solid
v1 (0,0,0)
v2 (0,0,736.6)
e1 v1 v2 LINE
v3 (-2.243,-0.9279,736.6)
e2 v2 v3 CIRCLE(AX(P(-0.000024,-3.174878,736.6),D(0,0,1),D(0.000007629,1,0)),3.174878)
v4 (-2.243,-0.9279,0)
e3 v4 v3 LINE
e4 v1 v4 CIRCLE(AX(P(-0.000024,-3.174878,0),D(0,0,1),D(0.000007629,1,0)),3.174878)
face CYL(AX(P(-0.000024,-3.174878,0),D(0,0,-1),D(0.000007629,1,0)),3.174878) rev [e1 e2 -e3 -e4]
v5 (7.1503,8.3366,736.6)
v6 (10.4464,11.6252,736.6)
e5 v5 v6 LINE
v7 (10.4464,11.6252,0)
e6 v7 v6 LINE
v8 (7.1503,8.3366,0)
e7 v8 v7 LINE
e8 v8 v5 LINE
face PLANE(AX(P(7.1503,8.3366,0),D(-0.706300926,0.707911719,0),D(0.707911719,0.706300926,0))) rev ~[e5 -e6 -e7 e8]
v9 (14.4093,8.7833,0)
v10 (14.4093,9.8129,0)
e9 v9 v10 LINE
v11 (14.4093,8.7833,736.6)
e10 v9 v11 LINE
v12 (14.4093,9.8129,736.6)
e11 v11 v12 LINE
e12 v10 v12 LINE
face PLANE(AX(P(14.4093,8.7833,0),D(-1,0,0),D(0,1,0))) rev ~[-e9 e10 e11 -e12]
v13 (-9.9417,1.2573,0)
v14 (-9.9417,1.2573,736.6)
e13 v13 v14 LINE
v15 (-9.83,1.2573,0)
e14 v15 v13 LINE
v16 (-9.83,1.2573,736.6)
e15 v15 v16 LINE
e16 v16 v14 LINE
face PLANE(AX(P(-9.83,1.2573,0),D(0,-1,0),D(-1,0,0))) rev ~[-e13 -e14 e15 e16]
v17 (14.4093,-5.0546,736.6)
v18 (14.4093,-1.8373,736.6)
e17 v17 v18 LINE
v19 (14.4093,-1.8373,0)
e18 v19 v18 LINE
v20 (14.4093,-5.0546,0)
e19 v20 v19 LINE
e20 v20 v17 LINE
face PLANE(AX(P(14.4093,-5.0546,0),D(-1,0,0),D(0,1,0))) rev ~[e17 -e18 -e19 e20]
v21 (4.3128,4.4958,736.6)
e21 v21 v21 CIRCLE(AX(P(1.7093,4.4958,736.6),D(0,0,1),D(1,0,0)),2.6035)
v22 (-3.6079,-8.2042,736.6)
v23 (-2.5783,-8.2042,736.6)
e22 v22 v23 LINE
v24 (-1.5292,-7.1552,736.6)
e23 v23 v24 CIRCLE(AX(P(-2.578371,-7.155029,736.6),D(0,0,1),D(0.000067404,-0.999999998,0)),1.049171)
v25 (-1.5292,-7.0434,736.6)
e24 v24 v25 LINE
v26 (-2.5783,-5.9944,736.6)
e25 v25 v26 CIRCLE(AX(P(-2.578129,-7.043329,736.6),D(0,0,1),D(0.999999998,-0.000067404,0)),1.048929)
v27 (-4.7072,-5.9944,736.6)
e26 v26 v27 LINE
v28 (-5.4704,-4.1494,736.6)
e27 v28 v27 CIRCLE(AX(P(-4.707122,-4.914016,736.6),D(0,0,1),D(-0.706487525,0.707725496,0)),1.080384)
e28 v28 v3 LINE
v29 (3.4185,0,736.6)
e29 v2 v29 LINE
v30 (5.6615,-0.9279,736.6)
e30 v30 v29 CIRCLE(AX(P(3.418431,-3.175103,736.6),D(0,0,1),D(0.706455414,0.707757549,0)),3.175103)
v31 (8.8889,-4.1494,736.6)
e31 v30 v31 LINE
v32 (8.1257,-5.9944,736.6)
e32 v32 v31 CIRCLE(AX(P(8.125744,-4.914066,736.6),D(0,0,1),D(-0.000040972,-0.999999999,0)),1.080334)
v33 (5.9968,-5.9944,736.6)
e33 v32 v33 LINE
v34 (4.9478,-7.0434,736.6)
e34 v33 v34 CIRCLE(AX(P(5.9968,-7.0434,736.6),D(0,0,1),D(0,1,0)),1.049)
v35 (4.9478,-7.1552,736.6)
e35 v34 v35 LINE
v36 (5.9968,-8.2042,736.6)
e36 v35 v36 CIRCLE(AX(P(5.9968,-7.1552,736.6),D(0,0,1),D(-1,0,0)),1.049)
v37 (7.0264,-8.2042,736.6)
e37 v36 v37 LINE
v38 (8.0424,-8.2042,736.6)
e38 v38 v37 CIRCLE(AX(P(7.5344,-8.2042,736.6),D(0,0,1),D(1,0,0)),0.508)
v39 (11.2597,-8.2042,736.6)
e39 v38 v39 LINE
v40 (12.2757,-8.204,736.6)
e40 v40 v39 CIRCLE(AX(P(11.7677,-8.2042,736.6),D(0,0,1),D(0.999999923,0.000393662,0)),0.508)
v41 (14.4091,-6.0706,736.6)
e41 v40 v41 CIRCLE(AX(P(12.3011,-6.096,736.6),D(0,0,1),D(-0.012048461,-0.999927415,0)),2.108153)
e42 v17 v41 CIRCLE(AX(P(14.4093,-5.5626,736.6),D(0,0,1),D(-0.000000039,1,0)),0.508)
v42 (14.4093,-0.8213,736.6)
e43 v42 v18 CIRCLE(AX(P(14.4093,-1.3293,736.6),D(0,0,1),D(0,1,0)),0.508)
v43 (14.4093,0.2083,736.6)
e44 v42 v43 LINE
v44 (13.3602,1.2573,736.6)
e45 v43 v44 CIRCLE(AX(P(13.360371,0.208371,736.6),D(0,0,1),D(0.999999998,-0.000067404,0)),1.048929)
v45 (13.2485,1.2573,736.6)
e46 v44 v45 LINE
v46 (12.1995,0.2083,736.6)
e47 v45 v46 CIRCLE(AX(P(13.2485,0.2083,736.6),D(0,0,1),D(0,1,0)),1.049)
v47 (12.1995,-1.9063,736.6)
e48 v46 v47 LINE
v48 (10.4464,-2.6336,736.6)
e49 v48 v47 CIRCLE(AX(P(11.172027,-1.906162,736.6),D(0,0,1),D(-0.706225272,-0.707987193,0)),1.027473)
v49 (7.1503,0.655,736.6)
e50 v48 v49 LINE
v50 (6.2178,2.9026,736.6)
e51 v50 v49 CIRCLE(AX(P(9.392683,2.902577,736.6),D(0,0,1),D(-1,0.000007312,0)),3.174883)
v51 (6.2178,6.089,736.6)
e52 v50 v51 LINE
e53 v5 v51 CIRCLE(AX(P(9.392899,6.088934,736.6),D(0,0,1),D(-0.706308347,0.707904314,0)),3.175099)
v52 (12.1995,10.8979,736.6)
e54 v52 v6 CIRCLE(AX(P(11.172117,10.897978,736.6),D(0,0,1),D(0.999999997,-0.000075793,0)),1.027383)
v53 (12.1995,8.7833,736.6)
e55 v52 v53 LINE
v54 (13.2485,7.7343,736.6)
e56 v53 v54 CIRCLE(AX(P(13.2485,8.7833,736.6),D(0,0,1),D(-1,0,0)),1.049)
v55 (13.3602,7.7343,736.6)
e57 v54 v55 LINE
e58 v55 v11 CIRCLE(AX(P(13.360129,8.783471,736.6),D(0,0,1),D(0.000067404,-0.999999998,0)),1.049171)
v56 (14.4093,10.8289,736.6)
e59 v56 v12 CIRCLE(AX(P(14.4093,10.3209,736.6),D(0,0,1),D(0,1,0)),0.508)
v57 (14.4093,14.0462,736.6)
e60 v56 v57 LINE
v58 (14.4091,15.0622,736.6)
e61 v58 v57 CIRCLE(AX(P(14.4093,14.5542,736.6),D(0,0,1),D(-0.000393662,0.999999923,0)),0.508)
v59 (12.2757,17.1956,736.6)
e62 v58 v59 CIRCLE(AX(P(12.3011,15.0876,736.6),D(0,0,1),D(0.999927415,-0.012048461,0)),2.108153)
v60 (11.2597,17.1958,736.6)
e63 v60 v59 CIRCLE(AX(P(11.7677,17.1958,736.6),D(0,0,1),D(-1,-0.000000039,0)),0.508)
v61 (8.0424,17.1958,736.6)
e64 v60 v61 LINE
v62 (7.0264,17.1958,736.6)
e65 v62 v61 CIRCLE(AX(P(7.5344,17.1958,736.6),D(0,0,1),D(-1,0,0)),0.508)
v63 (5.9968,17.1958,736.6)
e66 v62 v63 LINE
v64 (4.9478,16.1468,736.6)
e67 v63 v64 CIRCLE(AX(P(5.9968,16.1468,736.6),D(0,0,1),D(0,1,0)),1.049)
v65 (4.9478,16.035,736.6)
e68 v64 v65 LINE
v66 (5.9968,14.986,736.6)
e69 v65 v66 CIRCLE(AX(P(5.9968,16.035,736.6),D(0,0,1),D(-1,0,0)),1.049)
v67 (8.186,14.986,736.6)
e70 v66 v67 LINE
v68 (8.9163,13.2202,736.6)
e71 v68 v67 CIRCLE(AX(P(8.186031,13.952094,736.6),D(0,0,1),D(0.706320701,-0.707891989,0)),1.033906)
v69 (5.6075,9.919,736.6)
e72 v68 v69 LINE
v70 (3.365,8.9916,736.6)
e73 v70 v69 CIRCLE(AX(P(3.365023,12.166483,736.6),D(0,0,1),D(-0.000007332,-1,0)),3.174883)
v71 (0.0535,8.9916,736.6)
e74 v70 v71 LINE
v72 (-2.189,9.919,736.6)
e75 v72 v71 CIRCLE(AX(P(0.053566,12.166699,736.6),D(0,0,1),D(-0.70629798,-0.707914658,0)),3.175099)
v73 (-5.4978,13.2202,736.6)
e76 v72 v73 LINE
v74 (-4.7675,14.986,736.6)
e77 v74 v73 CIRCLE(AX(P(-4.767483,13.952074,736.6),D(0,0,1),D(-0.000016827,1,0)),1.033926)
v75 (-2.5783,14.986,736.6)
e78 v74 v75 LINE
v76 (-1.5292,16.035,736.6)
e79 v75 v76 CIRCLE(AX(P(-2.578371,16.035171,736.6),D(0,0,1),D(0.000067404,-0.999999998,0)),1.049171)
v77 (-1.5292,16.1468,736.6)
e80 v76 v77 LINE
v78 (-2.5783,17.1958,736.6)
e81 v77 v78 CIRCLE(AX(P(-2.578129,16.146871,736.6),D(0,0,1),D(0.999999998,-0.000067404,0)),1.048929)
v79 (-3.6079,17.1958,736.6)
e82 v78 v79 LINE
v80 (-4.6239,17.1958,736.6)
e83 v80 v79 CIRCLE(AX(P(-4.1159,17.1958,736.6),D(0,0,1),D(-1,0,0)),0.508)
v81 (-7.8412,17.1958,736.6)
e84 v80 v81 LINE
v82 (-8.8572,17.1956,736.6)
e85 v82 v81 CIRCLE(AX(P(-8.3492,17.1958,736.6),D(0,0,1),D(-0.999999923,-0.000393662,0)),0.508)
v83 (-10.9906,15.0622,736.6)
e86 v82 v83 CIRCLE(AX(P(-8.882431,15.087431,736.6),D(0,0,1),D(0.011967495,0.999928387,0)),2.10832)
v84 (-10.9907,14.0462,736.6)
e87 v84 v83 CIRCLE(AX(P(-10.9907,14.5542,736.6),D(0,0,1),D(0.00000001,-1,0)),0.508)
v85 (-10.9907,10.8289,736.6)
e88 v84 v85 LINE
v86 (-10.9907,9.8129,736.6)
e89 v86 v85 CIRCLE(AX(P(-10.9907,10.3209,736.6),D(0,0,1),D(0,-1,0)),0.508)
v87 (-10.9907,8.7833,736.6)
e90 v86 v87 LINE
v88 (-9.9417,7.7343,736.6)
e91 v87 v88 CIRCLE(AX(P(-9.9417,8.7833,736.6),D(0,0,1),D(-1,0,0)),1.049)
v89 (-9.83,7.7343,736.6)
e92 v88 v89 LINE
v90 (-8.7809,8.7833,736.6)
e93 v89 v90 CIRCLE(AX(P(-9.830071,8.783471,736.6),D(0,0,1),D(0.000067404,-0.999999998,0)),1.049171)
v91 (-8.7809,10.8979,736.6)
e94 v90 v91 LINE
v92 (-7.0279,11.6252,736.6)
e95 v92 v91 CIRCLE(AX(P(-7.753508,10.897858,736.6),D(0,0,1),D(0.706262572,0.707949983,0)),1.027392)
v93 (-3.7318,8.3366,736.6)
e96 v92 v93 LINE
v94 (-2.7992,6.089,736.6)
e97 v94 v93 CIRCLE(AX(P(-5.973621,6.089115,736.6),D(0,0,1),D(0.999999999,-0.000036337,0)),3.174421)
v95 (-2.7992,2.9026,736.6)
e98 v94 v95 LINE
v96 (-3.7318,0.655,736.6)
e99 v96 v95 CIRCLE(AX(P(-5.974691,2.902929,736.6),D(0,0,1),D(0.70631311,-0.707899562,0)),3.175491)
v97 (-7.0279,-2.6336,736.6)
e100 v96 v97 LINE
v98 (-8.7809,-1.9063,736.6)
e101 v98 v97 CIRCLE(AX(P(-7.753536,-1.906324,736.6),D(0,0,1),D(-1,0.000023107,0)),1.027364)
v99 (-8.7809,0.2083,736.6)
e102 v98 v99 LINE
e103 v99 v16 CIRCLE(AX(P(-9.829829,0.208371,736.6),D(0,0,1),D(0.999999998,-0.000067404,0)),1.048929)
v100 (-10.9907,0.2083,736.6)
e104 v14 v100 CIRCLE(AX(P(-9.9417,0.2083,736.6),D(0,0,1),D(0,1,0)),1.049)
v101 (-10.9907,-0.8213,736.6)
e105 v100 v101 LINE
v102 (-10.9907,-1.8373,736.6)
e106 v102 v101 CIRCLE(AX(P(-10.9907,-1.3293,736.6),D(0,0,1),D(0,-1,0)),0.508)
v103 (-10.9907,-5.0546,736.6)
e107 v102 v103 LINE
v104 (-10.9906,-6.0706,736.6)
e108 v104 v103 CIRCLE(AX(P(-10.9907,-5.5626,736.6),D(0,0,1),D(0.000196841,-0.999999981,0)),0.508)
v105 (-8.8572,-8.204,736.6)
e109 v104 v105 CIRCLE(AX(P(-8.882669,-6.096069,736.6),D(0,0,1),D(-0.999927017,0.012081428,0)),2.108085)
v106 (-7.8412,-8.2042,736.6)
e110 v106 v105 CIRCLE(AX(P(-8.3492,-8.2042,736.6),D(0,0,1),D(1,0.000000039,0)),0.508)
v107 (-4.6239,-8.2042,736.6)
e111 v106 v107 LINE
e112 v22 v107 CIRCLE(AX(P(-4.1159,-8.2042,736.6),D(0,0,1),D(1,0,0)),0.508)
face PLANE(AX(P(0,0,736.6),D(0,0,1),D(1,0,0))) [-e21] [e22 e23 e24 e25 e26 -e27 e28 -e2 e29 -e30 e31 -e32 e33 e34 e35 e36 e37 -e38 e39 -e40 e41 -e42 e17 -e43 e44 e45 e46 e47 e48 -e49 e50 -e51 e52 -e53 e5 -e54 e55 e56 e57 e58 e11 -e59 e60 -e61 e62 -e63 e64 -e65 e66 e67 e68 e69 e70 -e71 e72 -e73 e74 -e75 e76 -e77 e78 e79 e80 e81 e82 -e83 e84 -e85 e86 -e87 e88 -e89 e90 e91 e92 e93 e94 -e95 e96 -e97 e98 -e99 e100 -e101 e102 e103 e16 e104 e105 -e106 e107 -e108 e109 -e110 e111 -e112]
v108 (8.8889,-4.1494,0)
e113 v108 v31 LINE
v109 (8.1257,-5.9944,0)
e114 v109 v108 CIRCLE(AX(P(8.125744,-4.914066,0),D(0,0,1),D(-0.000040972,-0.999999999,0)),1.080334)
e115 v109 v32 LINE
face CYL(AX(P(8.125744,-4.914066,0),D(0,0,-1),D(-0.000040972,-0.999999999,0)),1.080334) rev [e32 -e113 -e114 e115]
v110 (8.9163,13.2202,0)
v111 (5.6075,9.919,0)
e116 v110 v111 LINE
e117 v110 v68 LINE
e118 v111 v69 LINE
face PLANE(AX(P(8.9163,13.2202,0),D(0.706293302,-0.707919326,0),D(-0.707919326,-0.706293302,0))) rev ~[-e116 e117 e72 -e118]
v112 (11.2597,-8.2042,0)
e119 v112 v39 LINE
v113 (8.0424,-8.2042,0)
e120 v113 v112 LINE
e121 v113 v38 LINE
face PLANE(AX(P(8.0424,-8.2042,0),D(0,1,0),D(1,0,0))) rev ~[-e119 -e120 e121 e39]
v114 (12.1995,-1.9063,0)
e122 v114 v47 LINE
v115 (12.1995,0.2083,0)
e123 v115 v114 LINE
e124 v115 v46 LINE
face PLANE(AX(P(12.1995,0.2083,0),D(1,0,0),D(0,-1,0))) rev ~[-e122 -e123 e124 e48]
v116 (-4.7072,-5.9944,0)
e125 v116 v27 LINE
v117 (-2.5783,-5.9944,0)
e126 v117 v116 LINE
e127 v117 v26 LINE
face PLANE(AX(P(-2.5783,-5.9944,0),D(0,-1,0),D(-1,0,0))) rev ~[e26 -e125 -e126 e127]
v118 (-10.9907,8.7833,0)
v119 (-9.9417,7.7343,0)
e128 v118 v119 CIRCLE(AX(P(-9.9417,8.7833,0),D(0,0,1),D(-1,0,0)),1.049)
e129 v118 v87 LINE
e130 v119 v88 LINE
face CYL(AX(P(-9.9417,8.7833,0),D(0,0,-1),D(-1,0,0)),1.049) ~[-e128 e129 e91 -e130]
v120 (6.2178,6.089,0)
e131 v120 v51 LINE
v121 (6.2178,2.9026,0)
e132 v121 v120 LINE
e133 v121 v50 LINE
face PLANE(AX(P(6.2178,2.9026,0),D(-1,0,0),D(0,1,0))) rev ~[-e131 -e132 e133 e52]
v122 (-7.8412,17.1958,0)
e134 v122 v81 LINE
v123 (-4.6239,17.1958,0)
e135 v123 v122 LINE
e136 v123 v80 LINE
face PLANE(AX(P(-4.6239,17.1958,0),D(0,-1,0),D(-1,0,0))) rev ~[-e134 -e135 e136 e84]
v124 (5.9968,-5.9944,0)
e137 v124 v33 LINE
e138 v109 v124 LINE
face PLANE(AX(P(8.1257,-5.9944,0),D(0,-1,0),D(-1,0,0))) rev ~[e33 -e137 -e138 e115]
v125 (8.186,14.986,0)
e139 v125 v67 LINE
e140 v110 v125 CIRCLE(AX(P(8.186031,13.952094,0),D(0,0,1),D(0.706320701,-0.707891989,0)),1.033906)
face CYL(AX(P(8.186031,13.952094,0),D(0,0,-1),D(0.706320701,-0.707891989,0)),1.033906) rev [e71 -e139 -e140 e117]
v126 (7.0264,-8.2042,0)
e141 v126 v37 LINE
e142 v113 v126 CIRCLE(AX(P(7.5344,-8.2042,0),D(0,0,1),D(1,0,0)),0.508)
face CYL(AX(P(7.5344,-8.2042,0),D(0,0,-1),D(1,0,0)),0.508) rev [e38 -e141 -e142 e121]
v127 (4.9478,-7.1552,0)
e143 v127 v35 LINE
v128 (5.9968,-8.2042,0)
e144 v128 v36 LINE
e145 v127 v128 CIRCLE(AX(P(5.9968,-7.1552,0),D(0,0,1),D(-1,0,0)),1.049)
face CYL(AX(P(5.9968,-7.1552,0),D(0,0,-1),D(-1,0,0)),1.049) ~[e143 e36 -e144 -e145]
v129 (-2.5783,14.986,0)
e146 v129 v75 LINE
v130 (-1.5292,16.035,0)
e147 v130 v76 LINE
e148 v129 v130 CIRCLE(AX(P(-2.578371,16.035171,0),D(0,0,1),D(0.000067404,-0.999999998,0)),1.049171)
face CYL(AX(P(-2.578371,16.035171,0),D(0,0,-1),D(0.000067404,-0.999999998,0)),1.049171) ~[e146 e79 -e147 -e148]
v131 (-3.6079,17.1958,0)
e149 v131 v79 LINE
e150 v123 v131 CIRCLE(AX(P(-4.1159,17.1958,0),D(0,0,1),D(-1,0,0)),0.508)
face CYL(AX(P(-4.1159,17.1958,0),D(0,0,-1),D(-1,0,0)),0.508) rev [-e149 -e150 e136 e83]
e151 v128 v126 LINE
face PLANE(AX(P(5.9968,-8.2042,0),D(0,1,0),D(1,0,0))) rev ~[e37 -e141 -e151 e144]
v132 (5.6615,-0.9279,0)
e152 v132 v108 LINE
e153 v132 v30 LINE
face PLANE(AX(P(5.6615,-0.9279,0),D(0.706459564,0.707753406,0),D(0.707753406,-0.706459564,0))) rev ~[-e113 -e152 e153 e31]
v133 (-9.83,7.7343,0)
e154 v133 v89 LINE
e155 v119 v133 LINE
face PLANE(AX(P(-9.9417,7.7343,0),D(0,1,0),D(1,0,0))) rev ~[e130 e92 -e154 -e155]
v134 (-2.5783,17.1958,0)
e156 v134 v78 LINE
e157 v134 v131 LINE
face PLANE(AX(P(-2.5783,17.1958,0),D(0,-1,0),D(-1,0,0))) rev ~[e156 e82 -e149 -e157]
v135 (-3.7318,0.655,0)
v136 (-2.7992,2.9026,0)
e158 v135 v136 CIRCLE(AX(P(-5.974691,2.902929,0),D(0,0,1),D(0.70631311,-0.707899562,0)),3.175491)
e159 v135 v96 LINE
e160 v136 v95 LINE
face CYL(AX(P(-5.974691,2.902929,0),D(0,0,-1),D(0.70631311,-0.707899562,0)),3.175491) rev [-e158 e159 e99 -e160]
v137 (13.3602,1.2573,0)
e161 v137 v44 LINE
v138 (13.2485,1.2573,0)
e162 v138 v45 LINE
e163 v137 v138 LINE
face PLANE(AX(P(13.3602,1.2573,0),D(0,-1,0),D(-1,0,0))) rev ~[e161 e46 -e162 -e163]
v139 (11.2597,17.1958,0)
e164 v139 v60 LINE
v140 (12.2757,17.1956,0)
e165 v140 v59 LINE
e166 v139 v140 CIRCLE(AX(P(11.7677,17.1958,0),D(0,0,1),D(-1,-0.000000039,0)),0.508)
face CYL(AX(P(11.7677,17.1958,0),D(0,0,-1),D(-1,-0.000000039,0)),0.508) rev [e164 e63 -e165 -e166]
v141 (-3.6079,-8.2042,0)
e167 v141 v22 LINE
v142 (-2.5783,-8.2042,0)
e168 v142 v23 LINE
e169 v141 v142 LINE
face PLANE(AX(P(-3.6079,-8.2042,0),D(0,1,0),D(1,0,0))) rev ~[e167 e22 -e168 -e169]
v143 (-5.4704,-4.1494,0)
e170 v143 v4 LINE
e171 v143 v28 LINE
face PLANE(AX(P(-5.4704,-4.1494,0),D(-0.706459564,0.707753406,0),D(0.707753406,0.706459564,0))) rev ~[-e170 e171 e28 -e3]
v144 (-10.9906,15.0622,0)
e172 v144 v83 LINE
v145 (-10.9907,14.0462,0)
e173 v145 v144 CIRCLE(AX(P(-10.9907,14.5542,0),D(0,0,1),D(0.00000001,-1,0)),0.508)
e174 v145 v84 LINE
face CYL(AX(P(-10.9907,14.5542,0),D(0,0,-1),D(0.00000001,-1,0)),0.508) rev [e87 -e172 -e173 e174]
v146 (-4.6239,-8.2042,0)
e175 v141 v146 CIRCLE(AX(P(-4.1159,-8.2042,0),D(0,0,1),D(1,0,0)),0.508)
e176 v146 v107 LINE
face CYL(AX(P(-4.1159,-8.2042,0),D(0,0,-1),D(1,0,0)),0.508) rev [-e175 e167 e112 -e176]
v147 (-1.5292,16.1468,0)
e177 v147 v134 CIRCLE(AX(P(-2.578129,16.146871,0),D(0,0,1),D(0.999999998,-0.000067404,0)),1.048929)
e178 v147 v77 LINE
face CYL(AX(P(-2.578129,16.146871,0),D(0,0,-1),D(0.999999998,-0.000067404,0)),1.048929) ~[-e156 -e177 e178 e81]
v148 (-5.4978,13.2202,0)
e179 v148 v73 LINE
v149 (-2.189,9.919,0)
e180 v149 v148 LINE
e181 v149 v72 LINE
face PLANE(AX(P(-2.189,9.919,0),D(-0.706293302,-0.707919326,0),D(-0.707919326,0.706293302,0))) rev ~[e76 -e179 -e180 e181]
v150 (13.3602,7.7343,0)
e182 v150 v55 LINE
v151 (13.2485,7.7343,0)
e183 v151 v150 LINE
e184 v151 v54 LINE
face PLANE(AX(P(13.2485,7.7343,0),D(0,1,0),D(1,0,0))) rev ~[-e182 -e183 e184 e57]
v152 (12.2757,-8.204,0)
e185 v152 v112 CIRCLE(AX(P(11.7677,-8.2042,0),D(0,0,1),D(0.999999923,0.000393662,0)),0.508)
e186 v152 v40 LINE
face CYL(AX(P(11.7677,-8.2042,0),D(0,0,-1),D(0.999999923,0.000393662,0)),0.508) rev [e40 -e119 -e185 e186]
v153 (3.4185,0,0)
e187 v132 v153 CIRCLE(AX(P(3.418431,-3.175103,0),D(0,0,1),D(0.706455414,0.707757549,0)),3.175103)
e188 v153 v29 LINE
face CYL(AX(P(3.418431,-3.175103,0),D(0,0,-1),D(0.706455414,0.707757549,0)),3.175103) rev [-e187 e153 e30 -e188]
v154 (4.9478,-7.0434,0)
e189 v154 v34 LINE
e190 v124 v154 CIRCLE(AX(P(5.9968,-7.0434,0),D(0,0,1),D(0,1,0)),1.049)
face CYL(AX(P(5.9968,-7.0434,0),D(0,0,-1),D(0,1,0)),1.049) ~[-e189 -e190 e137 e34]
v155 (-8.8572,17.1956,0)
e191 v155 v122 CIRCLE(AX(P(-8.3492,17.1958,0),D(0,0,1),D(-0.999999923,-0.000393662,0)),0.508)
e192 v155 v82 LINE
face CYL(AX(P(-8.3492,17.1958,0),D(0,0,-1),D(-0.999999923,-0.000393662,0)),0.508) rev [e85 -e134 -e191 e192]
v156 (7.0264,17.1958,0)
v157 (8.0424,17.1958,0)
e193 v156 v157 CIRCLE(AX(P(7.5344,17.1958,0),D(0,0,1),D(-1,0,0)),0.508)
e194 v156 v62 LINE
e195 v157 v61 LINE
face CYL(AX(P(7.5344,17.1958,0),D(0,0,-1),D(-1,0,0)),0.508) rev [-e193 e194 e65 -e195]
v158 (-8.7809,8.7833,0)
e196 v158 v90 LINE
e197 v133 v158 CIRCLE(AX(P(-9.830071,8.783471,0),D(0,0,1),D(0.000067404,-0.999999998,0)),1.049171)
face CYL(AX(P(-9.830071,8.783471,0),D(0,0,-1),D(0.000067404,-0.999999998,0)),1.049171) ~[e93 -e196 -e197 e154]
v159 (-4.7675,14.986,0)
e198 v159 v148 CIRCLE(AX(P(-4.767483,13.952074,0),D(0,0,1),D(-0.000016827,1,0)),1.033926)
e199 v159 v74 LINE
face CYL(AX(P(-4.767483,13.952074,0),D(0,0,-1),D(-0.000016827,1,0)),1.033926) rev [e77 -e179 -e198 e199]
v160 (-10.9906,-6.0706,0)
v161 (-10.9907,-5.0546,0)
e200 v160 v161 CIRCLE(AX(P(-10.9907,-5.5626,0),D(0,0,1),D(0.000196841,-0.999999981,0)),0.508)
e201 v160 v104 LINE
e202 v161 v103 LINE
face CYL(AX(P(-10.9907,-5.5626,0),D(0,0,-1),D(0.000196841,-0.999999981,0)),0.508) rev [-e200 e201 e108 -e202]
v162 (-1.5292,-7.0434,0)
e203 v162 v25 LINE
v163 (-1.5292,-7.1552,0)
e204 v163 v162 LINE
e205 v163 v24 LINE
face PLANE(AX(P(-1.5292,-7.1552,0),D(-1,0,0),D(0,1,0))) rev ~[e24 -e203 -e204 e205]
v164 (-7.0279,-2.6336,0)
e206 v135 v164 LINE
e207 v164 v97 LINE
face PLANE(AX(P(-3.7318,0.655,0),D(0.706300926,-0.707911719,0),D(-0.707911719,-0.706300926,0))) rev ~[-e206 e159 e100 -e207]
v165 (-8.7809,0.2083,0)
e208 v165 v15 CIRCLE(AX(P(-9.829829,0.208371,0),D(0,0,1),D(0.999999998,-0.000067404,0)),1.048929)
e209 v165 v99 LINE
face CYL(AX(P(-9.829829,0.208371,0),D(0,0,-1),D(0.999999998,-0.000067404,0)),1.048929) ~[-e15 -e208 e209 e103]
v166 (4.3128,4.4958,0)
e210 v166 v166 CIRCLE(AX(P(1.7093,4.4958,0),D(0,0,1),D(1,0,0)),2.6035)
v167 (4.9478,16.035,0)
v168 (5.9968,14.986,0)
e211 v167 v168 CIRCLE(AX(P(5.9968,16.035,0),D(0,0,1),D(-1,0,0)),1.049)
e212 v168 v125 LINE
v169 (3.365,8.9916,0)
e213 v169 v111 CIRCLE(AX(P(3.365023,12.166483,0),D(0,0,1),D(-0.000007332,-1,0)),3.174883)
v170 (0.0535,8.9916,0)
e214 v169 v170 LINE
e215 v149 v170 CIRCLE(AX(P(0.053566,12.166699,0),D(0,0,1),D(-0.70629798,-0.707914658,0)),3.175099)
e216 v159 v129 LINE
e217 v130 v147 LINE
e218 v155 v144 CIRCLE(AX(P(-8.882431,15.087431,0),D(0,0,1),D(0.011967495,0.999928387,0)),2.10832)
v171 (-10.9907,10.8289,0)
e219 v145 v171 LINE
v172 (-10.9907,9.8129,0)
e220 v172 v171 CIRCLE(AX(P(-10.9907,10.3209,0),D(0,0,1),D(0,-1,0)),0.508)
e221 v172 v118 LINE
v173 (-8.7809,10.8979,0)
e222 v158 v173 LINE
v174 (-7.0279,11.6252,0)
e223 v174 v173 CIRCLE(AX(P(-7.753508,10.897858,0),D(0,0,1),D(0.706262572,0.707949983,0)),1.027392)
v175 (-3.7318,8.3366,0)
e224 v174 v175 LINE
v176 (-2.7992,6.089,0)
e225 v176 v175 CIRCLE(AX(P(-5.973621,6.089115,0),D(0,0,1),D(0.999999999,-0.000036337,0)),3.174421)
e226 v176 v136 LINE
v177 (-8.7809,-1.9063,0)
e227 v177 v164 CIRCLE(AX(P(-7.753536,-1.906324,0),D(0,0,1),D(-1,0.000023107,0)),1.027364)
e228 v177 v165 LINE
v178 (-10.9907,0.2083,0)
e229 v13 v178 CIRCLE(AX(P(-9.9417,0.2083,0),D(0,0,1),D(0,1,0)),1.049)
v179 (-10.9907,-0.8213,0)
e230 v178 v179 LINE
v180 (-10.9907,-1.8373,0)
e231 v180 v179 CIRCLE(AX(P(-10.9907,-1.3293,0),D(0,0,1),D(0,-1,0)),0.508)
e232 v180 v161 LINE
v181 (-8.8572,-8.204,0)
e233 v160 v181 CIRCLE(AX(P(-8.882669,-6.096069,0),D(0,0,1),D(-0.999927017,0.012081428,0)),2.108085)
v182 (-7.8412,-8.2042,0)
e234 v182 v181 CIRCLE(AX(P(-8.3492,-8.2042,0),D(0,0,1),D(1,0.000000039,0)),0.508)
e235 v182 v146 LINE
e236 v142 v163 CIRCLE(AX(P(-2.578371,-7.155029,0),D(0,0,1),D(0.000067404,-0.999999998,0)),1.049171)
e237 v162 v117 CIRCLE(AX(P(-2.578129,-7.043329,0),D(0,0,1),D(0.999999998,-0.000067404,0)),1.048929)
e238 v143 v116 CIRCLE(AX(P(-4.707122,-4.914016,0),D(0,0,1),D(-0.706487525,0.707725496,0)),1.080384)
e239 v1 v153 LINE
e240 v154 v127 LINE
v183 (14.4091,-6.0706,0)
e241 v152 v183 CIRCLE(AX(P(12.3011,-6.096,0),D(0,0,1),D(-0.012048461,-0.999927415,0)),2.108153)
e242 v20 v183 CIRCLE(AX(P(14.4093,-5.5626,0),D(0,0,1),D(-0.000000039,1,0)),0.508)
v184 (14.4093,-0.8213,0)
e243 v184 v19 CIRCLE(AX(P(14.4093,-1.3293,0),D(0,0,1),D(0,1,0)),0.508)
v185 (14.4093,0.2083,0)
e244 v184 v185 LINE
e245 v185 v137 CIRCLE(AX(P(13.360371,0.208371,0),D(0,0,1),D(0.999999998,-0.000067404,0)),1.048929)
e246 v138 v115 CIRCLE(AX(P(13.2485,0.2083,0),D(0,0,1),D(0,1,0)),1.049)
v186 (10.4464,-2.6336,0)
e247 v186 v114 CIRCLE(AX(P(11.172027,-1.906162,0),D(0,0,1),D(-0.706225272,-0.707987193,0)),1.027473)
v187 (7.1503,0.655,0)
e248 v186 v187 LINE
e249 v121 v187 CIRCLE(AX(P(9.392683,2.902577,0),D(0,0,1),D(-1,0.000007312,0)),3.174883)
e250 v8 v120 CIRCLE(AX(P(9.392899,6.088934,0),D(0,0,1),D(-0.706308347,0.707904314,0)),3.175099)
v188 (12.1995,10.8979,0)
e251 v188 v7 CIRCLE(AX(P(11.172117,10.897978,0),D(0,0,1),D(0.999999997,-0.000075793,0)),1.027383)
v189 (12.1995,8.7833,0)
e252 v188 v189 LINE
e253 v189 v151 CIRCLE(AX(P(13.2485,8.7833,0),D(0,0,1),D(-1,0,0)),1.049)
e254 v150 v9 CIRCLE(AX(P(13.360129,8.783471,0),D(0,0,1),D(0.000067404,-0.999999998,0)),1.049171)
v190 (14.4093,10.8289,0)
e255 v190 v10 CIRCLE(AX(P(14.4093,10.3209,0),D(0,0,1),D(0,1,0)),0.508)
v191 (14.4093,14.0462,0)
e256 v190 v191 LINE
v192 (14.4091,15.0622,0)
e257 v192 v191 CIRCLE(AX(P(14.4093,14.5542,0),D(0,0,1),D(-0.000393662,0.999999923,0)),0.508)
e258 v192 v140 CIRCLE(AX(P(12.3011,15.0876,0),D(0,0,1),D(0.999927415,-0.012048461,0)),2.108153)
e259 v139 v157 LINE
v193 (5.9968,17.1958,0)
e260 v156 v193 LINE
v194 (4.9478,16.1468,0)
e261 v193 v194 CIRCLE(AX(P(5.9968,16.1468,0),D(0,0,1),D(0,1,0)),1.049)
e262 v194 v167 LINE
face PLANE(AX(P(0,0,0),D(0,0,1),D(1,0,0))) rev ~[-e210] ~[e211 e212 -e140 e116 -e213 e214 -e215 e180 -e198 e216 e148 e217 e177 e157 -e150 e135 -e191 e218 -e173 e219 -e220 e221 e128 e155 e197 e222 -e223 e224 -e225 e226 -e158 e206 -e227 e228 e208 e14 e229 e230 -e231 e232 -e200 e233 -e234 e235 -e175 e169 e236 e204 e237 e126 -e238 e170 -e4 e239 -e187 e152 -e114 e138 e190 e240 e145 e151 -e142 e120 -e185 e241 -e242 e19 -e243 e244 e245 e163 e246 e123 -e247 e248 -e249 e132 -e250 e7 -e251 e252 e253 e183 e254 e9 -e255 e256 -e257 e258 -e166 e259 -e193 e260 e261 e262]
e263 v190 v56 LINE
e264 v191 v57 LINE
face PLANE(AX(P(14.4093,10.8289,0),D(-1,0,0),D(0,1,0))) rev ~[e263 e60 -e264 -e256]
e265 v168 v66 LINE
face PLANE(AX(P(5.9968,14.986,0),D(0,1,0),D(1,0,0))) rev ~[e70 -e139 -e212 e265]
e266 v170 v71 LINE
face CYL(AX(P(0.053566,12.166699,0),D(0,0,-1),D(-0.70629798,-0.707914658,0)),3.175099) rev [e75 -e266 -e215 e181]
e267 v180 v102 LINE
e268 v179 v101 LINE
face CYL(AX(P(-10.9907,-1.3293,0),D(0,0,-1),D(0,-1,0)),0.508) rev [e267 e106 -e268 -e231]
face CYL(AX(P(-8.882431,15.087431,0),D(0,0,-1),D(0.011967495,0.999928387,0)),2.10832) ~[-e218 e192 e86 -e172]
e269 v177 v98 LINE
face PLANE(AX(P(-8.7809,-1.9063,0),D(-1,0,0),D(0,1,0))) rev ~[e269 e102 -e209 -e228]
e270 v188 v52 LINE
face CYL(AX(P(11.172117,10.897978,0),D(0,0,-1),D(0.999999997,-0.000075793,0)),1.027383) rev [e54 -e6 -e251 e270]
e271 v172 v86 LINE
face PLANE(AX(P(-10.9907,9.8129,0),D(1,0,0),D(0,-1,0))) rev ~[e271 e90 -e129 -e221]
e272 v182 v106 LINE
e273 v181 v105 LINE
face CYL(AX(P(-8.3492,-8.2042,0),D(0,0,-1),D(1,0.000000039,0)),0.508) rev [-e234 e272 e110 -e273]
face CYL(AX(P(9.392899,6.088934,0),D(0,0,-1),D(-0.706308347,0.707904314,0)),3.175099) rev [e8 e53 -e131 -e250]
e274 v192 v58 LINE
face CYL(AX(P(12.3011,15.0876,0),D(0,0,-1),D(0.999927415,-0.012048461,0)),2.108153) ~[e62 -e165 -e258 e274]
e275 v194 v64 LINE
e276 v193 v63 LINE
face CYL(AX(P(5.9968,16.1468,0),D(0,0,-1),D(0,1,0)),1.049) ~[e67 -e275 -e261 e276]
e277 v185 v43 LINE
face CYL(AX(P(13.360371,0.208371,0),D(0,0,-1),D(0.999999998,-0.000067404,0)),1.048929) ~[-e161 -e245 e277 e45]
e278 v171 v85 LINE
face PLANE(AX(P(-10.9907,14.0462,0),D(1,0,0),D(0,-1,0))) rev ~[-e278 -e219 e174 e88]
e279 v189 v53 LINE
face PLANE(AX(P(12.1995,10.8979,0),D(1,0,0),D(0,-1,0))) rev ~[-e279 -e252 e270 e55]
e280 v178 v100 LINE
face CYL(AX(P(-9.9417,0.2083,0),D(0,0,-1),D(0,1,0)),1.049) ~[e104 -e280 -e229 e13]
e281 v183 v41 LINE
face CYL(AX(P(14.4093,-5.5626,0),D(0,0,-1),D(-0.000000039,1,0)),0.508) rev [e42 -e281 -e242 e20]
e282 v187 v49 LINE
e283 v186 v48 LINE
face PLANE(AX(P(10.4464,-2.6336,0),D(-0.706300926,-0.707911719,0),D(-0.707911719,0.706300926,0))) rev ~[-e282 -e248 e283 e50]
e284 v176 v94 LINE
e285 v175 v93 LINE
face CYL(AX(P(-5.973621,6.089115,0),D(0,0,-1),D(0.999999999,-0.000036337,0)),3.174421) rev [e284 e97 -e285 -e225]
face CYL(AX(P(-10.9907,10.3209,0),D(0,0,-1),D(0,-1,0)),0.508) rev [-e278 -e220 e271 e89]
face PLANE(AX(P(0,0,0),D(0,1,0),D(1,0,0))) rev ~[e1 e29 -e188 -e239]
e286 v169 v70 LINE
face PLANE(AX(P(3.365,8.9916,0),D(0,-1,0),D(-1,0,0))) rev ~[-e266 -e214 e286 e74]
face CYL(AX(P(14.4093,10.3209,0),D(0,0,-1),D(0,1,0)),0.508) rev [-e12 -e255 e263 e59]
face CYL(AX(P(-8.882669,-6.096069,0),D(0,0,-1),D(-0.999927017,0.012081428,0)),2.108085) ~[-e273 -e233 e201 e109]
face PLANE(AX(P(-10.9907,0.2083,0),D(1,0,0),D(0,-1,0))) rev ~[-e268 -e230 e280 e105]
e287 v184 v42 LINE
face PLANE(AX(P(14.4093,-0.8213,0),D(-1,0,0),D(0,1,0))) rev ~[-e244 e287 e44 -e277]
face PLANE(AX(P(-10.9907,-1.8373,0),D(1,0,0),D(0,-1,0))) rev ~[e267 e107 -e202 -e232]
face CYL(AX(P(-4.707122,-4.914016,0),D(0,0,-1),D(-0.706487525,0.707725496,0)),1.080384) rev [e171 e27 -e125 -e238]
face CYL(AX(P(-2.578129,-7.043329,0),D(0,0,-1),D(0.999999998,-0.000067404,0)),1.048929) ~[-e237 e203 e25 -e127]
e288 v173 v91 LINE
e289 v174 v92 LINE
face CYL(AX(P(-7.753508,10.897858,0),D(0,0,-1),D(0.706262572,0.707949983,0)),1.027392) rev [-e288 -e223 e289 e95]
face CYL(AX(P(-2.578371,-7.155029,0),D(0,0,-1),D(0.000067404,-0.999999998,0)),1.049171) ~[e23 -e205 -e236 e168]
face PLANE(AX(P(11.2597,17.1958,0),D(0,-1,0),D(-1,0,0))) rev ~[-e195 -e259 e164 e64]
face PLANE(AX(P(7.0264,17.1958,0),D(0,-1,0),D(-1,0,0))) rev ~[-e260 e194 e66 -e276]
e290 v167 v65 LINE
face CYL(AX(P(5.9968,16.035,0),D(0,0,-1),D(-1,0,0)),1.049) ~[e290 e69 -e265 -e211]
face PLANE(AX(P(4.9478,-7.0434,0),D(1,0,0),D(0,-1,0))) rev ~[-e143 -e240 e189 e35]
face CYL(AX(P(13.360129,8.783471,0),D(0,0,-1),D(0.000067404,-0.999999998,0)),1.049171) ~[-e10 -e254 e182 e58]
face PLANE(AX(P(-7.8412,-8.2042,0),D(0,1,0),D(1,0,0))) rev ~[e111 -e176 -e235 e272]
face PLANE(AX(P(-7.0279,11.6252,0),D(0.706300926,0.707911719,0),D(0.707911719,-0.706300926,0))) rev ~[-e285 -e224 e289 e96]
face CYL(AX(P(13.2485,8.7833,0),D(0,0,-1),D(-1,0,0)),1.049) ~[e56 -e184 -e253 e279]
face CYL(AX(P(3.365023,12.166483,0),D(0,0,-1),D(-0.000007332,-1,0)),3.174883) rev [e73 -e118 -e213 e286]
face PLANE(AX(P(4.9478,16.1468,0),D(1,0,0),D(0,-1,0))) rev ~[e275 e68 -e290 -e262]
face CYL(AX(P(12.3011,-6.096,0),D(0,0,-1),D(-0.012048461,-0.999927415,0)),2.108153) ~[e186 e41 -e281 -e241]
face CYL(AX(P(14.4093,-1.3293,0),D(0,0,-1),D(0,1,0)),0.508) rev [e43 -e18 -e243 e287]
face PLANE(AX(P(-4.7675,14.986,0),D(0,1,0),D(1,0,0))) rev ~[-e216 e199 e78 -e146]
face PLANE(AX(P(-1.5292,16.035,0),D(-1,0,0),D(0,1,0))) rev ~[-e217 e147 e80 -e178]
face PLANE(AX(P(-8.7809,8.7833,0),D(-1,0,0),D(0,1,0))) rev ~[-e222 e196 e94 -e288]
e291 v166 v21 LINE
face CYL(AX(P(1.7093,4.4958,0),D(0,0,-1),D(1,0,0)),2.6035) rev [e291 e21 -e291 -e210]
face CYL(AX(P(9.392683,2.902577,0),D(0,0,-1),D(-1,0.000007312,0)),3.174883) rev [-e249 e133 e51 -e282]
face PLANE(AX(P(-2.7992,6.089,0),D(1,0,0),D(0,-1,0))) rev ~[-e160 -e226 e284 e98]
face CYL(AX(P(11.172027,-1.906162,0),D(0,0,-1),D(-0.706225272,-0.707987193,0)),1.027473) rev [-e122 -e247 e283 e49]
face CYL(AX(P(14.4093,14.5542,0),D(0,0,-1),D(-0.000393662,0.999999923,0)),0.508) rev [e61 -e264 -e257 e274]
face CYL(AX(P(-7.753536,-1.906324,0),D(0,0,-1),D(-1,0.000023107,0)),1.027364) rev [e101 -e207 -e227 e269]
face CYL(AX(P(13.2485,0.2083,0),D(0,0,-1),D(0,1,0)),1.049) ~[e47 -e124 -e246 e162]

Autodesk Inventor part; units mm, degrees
ref_plane "YZ Plane" through (0, 0, 0) normal (1, 0, 0) x (0, 1, 0)
ref_plane "XZ Plane" through (0, 0, 0) normal (0, 1, 0) x (-1, 0, 0)
ref_plane "XY Plane" through (0, 0, 0) normal (0, 0, 1) x (1, 0, 0)
sketch "Sketch1" plane through (0, 0, 0) normal (0, 0, 1) x (1, 0, 0)
  arc A0 (-5.4704, -4.1494) -> (-4.7072, -5.9944) centre (-4.7072, -4.914) ccw
  line L0 (-5.4704, -4.1494) -> (-2.243, -0.9279)
  arc A1 (0, 0) -> (-2.243, -0.9279) centre (0, -3.175) ccw
  line L1 (0, 0) -> (3.4185, 0)
  arc A2 (5.6615, -0.9279) -> (3.4185, 0) centre (3.4185, -3.175) ccw
  line L2 (5.6615, -0.9279) -> (8.8889, -4.1494)
  arc A3 (8.1257, -5.9944) -> (8.8889, -4.1494) centre (8.1257, -4.914) ccw
  line L3 (8.1257, -5.9944) -> (5.9968, -5.9944)
  arc A4 (5.9968, -5.9944) -> (4.9478, -7.0434) centre (5.9968, -7.0434) ccw
  line L4 (4.9478, -7.0434) -> (4.9478, -7.1552)
  arc A5 (4.9478, -7.1552) -> (5.9968, -8.2042) centre (5.9968, -7.1552) ccw
  line L5 (5.9968, -8.2042) -> (7.0264, -8.2042)
  arc A6 (8.0424, -8.2042) -> (7.0264, -8.2042) centre (7.5344, -8.2042) ccw
  line L6 (8.0424, -8.2042) -> (11.2597, -8.2042)
  arc A7 (12.2757, -8.204) -> (11.2597, -8.2042) centre (11.7677, -8.2042) ccw
  arc A8 (12.2757, -8.204) -> (14.4091, -6.0706) centre (12.3011, -6.096) ccw
  arc A9 (14.4093, -5.0546) -> (14.4091, -6.0706) centre (14.4093, -5.5626) ccw
  line L7 (14.4093, -5.0546) -> (14.4093, -1.8373)
  arc A10 (14.4093, -0.8213) -> (14.4093, -1.8373) centre (14.4093, -1.3293) ccw
  line L8 (14.4093, -0.8213) -> (14.4093, 0.2083)
  arc A11 (14.4093, 0.2083) -> (13.3602, 1.2573) centre (13.3602, 0.2083) ccw
  line L9 (13.3602, 1.2573) -> (13.2485, 1.2573)
  arc A12 (13.2485, 1.2573) -> (12.1995, 0.2083) centre (13.2485, 0.2083) ccw
  line L10 (12.1995, 0.2083) -> (12.1995, -1.9063)
  arc A13 (10.4464, -2.6336) -> (12.1995, -1.9063) centre (11.172, -1.9063) ccw
  line L11 (10.4464, -2.6336) -> (7.1503, 0.655)
  arc A14 (6.2178, 2.9026) -> (7.1503, 0.655) centre (9.3928, 2.9026) ccw
  line L12 (6.2178, 2.9026) -> (6.2178, 6.089)
  arc A15 (7.1503, 8.3366) -> (6.2178, 6.089) centre (9.3928, 6.089) ccw
  line L13 (7.1503, 8.3366) -> (10.4464, 11.6252)
  arc A16 (12.1995, 10.8979) -> (10.4464, 11.6252) centre (11.172, 10.8979) ccw
  line L14 (12.1995, 10.8979) -> (12.1995, 8.7833)
  arc A17 (12.1995, 8.7833) -> (13.2485, 7.7343) centre (13.2485, 8.7833) ccw
  line L15 (13.2485, 7.7343) -> (13.3602, 7.7343)
  arc A18 (13.3602, 7.7343) -> (14.4093, 8.7833) centre (13.3602, 8.7833) ccw
  line L16 (14.4093, 8.7833) -> (14.4093, 9.8129)
  arc A19 (14.4093, 10.8289) -> (14.4093, 9.8129) centre (14.4093, 10.3209) ccw
  line L17 (14.4093, 10.8289) -> (14.4093, 14.0462)
  arc A20 (14.4091, 15.0622) -> (14.4093, 14.0462) centre (14.4093, 14.5542) ccw
  arc A21 (14.4091, 15.0622) -> (12.2757, 17.1956) centre (12.3011, 15.0876) ccw
  arc A22 (11.2597, 17.1958) -> (12.2757, 17.1956) centre (11.7677, 17.1958) ccw
  line L18 (11.2597, 17.1958) -> (8.0424, 17.1958)
  arc A23 (7.0264, 17.1958) -> (8.0424, 17.1958) centre (7.5344, 17.1958) ccw
  line L19 (7.0264, 17.1958) -> (5.9968, 17.1958)
  arc A24 (5.9968, 17.1958) -> (4.9478, 16.1468) centre (5.9968, 16.1468) ccw
  line L20 (4.9478, 16.1468) -> (4.9478, 16.035)
  arc A25 (4.9478, 16.035) -> (5.9968, 14.986) centre (5.9968, 16.035) ccw
  line L21 (5.9968, 14.986) -> (8.186, 14.986)
  arc A26 (8.9163, 13.2202) -> (8.186, 14.986) centre (8.186, 13.9521) ccw
  line L22 (8.9163, 13.2202) -> (5.6075, 9.919)
  arc A27 (3.365, 8.9916) -> (5.6075, 9.919) centre (3.365, 12.1666) ccw
  line L23 (3.365, 8.9916) -> (0.0535, 8.9916)
  arc A28 (-2.189, 9.919) -> (0.0535, 8.9916) centre (0.0535, 12.1666) ccw
  line L24 (-2.189, 9.919) -> (-5.4978, 13.2202)
  arc A29 (-4.7675, 14.986) -> (-5.4978, 13.2202) centre (-4.7675, 13.9521) ccw
  line L25 (-4.7675, 14.986) -> (-2.5783, 14.986)
  arc A30 (-2.5783, 14.986) -> (-1.5292, 16.035) centre (-2.5783, 16.035) ccw
  line L26 (-1.5292, 16.035) -> (-1.5292, 16.1468)
  arc A31 (-1.5292, 16.1468) -> (-2.5783, 17.1958) centre (-2.5783, 16.1468) ccw
  line L27 (-2.5783, 17.1958) -> (-3.6079, 17.1958)
  arc A32 (-4.6239, 17.1958) -> (-3.6079, 17.1958) centre (-4.1159, 17.1958) ccw
  line L28 (-4.6239, 17.1958) -> (-7.8412, 17.1958)
  arc A33 (-8.8572, 17.1956) -> (-7.8412, 17.1958) centre (-8.3492, 17.1958) ccw
  arc A34 (-8.8572, 17.1956) -> (-10.9906, 15.0622) centre (-8.8825, 15.0876) ccw
  arc A35 (-10.9907, 14.0462) -> (-10.9906, 15.0622) centre (-10.9907, 14.5542) ccw
  line L29 (-10.9907, 14.0462) -> (-10.9907, 10.8289)
  arc A36 (-10.9907, 9.8129) -> (-10.9907, 10.8289) centre (-10.9907, 10.3209) ccw
  line L30 (-10.9907, 9.8129) -> (-10.9907, 8.7833)
  arc A37 (-10.9907, 8.7833) -> (-9.9417, 7.7343) centre (-9.9417, 8.7833) ccw
  line L31 (-9.9417, 7.7343) -> (-9.83, 7.7343)
  arc A38 (-9.83, 7.7343) -> (-8.7809, 8.7833) centre (-9.83, 8.7833) ccw
  line L32 (-8.7809, 8.7833) -> (-8.7809, 10.8979)
  arc A39 (-7.0279, 11.6252) -> (-8.7809, 10.8979) centre (-7.7535, 10.8979) ccw
  line L33 (-7.0279, 11.6252) -> (-3.7318, 8.3366)
  arc A40 (-2.7992, 6.089) -> (-3.7318, 8.3366) centre (-5.9742, 6.089) ccw
  line L34 (-2.7992, 6.089) -> (-2.7992, 2.9026)
  arc A41 (-3.7318, 0.655) -> (-2.7992, 2.9026) centre (-5.9742, 2.9026) ccw
  line L35 (-3.7318, 0.655) -> (-7.0279, -2.6336)
  arc A42 (-8.7809, -1.9063) -> (-7.0279, -2.6336) centre (-7.7535, -1.9063) ccw
  line L36 (-8.7809, -1.9063) -> (-8.7809, 0.2083)
  arc A43 (-8.7809, 0.2083) -> (-9.83, 1.2573) centre (-9.83, 0.2083) ccw
  line L37 (-9.83, 1.2573) -> (-9.9417, 1.2573)
  arc A44 (-9.9417, 1.2573) -> (-10.9907, 0.2083) centre (-9.9417, 0.2083) ccw
  line L38 (-10.9907, 0.2083) -> (-10.9907, -0.8213)
  arc A45 (-10.9907, -1.8373) -> (-10.9907, -0.8213) centre (-10.9907, -1.3293) ccw
  line L39 (-10.9907, -1.8373) -> (-10.9907, -5.0546)
  arc A46 (-10.9906, -6.0706) -> (-10.9907, -5.0546) centre (-10.9907, -5.5626) ccw
  arc A47 (-10.9906, -6.0706) -> (-8.8572, -8.204) centre (-8.8825, -6.096) ccw
  arc A48 (-7.8412, -8.2042) -> (-8.8572, -8.204) centre (-8.3492, -8.2042) ccw
  line L40 (-7.8412, -8.2042) -> (-4.6239, -8.2042)
  arc A49 (-3.6079, -8.2042) -> (-4.6239, -8.2042) centre (-4.1159, -8.2042) ccw
  line L41 (-3.6079, -8.2042) -> (-2.5783, -8.2042)
  arc A50 (-2.5783, -8.2042) -> (-1.5292, -7.1552) centre (-2.5783, -7.1552) ccw
  line L42 (-1.5292, -7.1552) -> (-1.5292, -7.0434)
  arc A51 (-1.5292, -7.0434) -> (-2.5783, -5.9944) centre (-2.5783, -7.0434) ccw
  line L43 (-2.5783, -5.9944) -> (-4.7072, -5.9944)
  circle A52 centre (1.7093, 4.4958) radius 2.6035
extrude "Extrusion1" add sketch "Sketch1" along normal blind 736.6
properties part number "29in 1x1 T slot"
